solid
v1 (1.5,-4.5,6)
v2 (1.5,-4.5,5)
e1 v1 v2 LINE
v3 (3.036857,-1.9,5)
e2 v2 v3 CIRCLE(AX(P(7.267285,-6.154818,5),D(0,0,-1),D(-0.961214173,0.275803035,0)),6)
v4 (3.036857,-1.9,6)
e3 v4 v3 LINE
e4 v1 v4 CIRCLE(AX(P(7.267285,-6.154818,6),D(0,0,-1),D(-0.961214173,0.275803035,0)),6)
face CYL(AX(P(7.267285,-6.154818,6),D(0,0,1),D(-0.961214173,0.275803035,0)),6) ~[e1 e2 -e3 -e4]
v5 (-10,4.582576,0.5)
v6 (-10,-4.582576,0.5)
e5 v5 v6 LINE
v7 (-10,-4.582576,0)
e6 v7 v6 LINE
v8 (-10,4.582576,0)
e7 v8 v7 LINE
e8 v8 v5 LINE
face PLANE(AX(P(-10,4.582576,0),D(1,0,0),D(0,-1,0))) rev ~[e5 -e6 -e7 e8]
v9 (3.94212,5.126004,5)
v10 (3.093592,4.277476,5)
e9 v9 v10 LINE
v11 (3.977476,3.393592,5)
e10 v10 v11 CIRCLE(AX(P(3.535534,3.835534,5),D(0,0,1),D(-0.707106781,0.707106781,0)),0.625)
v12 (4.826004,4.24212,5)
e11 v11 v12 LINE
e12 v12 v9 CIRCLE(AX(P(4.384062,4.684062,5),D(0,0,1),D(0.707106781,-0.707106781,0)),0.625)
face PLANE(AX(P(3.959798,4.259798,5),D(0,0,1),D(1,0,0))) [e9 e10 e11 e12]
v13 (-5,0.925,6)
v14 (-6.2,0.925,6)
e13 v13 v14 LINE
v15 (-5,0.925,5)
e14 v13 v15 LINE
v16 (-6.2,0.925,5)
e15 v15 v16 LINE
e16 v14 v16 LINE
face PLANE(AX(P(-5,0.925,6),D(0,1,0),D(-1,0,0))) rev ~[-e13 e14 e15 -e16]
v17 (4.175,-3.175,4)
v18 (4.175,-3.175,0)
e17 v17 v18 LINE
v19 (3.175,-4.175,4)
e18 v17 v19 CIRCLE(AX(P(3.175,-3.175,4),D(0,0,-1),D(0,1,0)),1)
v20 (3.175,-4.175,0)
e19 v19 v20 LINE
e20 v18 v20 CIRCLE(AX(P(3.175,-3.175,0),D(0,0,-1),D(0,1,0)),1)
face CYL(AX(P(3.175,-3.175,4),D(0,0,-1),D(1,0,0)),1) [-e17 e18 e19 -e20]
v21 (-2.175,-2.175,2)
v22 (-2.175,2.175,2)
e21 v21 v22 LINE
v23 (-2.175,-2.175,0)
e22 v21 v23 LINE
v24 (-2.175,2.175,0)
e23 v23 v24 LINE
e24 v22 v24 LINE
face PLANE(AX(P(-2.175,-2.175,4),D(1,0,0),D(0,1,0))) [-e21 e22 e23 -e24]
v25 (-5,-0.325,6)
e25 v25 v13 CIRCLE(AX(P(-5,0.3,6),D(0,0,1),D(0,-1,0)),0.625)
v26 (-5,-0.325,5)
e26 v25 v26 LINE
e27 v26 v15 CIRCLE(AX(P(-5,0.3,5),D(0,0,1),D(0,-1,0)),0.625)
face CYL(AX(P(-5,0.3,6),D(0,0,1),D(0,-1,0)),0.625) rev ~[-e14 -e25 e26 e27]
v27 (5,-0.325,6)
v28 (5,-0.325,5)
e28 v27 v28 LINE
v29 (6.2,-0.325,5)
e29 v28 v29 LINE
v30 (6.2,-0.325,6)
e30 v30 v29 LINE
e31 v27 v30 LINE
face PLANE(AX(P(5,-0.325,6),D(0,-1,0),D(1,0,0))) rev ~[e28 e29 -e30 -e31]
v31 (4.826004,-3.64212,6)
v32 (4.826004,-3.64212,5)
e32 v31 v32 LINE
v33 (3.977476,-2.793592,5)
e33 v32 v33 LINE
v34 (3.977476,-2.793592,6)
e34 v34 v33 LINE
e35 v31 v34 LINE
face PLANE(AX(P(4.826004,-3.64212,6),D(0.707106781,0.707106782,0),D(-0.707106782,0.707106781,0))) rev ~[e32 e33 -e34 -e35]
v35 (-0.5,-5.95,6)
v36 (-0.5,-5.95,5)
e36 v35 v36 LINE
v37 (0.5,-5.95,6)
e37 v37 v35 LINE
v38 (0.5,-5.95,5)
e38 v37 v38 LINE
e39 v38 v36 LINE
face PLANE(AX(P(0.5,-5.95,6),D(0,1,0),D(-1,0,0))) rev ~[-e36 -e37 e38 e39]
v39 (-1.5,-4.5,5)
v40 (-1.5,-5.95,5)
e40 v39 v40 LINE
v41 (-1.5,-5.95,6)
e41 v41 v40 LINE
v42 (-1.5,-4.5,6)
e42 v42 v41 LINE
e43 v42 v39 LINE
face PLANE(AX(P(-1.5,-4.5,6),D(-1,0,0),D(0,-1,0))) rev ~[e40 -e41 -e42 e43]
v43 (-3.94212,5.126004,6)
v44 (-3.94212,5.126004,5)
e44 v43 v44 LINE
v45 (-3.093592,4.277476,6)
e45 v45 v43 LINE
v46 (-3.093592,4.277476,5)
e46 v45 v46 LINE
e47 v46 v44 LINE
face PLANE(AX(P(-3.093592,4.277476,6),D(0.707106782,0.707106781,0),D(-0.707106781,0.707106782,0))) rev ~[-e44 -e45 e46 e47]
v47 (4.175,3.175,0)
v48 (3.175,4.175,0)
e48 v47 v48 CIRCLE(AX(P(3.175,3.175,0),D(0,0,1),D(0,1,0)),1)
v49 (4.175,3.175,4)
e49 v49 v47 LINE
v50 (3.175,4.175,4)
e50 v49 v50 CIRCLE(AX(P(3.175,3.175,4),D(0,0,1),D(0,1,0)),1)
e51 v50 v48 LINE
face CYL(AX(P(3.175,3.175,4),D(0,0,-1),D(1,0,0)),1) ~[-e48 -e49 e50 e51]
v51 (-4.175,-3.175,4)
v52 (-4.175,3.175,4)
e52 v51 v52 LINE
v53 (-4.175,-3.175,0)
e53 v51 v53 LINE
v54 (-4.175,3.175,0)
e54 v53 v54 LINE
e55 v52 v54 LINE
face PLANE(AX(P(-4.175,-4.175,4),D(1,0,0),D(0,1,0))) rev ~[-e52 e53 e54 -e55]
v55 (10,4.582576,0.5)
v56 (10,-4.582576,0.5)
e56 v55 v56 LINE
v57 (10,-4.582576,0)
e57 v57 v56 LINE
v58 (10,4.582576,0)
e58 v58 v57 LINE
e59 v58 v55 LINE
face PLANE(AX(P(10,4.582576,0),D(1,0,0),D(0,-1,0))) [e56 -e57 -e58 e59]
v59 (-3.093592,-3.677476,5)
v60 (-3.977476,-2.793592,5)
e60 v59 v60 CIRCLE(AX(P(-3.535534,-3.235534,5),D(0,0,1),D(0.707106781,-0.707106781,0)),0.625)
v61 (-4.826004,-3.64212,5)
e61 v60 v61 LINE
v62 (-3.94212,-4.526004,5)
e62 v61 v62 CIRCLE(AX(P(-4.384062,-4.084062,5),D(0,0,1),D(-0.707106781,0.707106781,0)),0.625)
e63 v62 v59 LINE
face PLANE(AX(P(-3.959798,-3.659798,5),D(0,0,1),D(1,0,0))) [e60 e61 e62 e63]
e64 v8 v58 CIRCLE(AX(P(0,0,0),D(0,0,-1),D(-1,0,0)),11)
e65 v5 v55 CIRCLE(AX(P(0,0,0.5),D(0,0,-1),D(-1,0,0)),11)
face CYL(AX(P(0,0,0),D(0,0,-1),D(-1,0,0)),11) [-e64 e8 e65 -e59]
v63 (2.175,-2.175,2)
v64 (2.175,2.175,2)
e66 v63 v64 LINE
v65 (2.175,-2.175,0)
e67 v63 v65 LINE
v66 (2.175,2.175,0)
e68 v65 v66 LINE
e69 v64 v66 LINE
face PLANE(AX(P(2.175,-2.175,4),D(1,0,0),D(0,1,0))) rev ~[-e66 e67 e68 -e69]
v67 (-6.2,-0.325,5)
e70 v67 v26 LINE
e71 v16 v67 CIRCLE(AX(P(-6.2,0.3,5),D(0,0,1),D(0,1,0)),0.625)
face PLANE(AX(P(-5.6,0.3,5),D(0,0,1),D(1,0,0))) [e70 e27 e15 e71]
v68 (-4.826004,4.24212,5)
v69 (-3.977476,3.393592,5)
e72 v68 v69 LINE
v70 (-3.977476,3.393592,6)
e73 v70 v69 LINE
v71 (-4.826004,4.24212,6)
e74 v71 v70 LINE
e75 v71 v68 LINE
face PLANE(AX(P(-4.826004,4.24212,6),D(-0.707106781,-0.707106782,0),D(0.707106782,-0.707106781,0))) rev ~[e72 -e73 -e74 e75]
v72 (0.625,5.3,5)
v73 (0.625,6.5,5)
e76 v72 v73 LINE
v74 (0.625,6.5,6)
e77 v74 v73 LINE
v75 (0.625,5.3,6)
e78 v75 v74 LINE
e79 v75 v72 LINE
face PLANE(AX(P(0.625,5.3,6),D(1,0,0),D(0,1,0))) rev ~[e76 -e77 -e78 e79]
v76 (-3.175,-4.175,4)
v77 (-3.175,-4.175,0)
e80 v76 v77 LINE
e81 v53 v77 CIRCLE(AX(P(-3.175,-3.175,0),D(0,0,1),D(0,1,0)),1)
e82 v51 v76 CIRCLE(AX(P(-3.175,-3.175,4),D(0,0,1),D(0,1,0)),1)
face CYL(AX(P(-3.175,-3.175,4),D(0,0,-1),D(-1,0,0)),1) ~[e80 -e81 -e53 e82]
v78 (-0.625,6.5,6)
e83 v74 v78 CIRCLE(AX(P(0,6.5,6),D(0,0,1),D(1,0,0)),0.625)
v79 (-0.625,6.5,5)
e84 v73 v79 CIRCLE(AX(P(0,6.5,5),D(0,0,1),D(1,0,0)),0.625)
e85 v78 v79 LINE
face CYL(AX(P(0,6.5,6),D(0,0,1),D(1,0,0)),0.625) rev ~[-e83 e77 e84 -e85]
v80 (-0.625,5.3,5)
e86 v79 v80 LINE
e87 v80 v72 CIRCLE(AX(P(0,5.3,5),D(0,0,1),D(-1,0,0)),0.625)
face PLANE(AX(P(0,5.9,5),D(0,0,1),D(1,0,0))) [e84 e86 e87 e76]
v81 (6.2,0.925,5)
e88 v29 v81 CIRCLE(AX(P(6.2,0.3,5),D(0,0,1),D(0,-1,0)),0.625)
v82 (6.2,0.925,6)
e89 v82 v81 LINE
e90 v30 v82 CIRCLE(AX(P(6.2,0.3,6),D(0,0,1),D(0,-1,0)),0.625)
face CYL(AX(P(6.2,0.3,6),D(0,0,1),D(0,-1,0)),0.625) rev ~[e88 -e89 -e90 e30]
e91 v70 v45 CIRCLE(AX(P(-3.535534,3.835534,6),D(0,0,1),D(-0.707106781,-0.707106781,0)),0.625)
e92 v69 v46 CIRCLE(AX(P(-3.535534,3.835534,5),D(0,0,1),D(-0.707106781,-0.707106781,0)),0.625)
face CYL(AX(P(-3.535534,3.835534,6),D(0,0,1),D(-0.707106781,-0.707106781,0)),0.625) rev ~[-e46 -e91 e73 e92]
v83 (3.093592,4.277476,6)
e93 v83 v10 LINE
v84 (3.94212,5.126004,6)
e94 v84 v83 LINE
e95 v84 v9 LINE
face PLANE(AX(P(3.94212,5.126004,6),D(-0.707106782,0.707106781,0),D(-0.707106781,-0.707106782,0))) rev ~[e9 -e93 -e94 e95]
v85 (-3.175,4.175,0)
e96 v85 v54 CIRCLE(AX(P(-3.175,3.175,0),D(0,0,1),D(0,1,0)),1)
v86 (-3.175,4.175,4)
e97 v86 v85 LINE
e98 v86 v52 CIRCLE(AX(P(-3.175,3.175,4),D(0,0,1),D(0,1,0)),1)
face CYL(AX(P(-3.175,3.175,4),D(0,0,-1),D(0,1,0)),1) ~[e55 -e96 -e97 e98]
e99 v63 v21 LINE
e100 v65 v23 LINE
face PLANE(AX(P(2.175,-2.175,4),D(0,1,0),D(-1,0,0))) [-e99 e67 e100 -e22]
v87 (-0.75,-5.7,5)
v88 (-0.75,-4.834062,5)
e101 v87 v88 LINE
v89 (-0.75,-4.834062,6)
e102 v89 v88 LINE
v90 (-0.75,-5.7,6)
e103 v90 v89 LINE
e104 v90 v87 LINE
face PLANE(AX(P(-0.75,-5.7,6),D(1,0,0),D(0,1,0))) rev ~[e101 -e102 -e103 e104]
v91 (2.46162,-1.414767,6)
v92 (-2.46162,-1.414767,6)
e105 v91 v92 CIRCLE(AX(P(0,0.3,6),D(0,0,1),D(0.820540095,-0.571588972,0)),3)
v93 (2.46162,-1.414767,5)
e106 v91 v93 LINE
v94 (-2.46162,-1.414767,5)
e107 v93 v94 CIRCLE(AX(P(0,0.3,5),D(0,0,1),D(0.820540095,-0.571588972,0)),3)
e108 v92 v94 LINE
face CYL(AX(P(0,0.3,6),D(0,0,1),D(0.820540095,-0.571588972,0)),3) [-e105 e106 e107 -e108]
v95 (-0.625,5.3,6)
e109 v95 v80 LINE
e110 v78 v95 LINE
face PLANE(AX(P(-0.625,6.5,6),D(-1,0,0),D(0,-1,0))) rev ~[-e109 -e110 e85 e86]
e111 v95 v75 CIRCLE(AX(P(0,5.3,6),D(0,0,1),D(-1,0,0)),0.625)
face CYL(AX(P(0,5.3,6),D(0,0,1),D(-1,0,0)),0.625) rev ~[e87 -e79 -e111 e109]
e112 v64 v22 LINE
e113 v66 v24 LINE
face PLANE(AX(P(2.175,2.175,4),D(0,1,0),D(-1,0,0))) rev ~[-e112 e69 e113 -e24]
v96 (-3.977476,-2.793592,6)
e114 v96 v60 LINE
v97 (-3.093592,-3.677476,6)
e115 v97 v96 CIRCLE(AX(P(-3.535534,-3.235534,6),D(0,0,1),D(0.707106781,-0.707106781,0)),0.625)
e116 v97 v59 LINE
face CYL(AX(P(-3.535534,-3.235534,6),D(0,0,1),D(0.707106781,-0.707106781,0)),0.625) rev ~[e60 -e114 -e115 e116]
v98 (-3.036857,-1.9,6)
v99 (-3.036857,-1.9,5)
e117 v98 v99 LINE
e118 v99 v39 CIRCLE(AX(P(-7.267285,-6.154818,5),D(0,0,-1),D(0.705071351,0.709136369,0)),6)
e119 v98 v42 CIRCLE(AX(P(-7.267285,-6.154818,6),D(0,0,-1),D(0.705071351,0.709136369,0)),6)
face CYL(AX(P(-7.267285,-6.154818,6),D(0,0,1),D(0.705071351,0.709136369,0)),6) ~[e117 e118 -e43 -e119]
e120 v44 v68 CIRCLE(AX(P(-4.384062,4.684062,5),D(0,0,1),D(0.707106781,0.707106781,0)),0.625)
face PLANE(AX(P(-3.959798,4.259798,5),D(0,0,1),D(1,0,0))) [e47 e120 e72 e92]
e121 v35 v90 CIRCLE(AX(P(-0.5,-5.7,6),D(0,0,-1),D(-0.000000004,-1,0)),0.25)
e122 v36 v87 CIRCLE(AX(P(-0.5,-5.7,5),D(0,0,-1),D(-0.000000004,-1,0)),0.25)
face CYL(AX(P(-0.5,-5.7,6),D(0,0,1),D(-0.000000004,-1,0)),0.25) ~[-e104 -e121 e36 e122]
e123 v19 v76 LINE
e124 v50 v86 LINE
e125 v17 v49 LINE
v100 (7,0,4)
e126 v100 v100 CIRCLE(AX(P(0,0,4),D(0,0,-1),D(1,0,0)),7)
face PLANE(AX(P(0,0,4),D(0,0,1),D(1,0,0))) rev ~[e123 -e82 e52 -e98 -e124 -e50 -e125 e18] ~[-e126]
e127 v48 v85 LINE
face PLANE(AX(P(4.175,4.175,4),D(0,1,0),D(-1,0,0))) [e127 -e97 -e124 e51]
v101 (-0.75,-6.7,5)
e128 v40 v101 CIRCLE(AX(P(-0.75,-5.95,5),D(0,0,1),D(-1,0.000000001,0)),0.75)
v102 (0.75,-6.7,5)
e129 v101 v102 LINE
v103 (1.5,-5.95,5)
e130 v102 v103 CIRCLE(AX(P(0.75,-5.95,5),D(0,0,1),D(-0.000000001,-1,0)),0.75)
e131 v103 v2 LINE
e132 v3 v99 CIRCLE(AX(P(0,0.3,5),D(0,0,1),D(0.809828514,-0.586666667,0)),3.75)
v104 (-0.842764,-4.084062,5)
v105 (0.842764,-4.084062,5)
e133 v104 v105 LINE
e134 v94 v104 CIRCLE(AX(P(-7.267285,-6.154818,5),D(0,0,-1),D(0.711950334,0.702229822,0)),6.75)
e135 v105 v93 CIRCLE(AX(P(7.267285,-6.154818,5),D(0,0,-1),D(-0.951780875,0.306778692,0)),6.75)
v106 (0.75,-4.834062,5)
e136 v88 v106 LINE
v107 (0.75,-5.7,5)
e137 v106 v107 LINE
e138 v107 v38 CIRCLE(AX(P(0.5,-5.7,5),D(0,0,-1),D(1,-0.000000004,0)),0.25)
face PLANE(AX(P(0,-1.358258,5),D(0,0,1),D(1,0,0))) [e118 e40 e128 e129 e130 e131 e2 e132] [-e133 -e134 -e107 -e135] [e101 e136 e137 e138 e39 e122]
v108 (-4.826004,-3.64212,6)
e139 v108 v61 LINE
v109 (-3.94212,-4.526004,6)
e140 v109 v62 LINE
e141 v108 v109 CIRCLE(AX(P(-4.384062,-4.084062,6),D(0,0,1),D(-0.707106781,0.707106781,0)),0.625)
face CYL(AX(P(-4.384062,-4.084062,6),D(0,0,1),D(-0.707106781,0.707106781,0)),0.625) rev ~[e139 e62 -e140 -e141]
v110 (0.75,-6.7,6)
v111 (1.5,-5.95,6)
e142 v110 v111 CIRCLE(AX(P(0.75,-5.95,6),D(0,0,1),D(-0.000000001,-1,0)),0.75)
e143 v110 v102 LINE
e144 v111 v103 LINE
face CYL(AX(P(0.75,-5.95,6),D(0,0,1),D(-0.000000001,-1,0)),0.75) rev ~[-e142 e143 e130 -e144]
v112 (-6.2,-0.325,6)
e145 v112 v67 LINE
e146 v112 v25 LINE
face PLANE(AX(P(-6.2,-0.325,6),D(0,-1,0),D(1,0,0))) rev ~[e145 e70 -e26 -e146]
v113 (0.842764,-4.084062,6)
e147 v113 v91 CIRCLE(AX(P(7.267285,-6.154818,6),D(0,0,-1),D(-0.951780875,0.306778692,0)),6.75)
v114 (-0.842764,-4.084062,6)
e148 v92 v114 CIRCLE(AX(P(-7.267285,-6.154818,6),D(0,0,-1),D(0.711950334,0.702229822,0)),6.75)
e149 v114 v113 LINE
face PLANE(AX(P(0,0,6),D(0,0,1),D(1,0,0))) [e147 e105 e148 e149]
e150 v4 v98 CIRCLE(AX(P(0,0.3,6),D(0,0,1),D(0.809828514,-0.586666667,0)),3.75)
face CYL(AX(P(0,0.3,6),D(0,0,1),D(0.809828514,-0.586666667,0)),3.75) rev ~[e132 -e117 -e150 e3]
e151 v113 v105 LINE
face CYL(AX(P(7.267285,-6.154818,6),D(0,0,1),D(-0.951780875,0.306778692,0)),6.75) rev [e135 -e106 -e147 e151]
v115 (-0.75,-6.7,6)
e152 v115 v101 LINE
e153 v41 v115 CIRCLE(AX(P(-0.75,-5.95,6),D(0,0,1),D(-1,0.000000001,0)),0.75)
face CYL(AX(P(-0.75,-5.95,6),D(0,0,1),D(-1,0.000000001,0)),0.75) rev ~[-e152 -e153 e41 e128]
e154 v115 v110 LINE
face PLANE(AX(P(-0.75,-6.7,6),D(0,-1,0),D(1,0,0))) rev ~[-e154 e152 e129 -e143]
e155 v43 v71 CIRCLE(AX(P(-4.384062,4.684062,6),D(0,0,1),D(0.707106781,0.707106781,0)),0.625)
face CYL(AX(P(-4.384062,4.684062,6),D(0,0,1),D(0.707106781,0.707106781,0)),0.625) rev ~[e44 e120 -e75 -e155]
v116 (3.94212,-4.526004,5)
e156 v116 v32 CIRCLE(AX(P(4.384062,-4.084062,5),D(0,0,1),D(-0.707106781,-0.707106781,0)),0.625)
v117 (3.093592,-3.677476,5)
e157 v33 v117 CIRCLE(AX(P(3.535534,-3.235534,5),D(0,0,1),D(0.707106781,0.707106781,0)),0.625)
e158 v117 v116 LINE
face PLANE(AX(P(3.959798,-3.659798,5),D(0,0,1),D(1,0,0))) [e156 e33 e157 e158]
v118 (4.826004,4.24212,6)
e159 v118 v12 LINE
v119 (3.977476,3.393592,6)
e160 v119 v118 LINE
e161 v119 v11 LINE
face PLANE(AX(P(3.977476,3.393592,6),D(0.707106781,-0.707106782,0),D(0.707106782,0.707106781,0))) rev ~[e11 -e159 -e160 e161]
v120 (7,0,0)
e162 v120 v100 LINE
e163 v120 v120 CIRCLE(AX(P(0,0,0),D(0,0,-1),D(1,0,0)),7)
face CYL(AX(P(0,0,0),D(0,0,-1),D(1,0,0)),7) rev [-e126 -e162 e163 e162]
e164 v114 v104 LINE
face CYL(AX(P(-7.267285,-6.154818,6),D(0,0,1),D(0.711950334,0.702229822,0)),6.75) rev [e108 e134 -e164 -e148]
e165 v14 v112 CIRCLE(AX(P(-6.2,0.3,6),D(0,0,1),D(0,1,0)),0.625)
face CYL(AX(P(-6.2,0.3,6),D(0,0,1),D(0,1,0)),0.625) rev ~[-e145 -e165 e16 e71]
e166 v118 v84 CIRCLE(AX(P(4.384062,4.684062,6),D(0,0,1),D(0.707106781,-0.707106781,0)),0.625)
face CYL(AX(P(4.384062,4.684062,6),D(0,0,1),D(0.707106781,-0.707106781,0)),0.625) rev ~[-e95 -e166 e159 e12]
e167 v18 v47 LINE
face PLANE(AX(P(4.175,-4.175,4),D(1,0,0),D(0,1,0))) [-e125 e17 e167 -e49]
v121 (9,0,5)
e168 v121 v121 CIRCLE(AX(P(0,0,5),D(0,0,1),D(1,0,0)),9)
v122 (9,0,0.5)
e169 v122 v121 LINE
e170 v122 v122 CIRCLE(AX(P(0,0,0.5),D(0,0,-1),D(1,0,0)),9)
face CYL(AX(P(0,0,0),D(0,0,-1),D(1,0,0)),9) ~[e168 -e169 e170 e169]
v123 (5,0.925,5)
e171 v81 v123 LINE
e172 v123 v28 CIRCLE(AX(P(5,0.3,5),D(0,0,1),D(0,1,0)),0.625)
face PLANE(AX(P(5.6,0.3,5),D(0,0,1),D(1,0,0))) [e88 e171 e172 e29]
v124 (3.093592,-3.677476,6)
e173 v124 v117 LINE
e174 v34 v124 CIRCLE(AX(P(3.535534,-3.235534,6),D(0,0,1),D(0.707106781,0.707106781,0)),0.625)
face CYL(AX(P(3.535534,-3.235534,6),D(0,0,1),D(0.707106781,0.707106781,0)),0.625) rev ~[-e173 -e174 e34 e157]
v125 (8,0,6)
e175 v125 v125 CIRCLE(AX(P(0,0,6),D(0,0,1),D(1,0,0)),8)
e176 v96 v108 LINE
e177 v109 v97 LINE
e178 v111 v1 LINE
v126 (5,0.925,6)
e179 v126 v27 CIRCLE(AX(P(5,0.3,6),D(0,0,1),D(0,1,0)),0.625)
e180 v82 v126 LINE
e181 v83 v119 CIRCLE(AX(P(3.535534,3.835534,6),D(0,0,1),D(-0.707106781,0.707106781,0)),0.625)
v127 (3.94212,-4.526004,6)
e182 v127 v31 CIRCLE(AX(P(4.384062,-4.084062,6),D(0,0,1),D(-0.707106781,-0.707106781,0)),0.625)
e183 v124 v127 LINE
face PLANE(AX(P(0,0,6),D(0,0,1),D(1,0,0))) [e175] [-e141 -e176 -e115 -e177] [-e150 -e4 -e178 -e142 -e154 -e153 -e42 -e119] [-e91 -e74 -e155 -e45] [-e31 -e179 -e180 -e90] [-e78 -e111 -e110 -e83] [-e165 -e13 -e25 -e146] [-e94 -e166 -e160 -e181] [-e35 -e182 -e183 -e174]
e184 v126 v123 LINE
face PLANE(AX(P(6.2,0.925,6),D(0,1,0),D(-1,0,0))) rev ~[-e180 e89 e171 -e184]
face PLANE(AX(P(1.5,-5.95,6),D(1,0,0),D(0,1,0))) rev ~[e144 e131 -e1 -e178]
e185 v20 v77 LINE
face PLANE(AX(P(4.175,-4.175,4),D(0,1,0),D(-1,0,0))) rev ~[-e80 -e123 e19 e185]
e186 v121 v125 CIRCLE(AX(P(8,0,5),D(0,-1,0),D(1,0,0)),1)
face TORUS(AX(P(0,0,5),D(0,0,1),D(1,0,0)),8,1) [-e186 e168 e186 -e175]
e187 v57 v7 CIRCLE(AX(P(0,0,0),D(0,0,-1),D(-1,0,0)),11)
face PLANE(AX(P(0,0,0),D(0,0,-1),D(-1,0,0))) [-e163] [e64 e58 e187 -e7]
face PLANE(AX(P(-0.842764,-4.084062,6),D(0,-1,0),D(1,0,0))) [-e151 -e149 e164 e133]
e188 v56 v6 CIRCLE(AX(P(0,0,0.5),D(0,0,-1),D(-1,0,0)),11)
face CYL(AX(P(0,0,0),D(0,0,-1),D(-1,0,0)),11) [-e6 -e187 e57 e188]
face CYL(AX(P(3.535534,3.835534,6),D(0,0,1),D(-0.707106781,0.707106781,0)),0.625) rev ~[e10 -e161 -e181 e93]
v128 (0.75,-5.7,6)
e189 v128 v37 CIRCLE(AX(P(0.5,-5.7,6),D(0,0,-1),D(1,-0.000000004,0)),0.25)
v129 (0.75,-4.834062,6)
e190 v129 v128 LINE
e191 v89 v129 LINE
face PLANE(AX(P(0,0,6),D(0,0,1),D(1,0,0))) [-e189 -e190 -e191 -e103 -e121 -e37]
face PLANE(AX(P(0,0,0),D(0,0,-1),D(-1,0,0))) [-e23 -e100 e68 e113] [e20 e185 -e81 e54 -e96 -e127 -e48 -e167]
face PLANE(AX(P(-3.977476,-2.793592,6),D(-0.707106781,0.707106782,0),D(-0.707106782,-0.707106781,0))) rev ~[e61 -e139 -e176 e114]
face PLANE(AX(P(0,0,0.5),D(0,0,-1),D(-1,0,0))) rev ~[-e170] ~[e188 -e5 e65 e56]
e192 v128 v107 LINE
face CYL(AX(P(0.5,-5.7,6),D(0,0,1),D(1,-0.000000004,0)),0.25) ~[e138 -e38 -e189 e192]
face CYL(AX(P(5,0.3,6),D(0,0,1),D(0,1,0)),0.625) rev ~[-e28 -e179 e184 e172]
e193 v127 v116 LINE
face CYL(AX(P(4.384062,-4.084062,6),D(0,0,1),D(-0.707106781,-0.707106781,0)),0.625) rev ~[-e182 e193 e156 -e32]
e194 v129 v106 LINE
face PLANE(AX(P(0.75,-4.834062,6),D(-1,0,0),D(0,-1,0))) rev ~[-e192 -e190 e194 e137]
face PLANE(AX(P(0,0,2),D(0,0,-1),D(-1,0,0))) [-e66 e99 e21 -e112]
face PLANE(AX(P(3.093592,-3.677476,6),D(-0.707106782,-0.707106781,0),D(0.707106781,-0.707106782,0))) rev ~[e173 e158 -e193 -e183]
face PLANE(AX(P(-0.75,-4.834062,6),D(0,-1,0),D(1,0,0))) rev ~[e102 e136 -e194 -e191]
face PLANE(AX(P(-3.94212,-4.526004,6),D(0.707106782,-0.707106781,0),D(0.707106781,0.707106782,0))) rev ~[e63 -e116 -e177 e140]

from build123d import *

# Parameters (mm, degrees)
ESBO_O1_R                = 9
RESSALTO_EXTRUS_O1_DEPTH = 6
FILETE1_R                = 1
CASCA1_T                 = -2
ESBO_O2_W                = 8.35
ESBO_O2_H                = 8.35
ESBO_O2_W_2              = 4.35
ESBO_O2_H_2              = 4.35
RESSALTO_EXTRUS_O2_DEPTH = 4
FILETE2_R                = 1
CORTE_EXTRUS_O2_DEPTH    = 1
ESBO_O6_R                = 11
ESBO_O6_R_2              = 9
RESSALTO_EXTRUS_O3_DEPTH = 0.5
CORTE_EXTRUS_O4_DEPTH    = 17.673332001
ESBO_O8_W                = 4.35
ESBO_O8_H                = 4.35
RESSALTO_EXTRUS_O4_DEPTH = 2


with BuildPart() as part:
    # Esboço1 → Ressalto-extrusão1 (new body)
    with BuildSketch(Plane.XY):
        Circle(ESBO_O1_R)
    extrude(amount=RESSALTO_EXTRUS_O1_DEPTH)

    # Filete1
    filete1_edges = [part.edges().sort_by_distance(p)[0] for p in [
        (-9, 0, 6),
    ]]
    fillet(filete1_edges, radius=FILETE1_R)

    # Casca1
    casca1_openings = [part.faces().sort_by_distance(p)[0] for p in [
        (0, 0, 0),
    ]]
    offset(amount=CASCA1_T, openings=casca1_openings, kind=Kind.INTERSECTION)

    # Esboço2 → Ressalto-extrusão2 (add)
    with BuildSketch(Plane(origin=(0, 0, 4), x_dir=(-1, 0, 0), z_dir=(0, 0, -1))):
        Rectangle(ESBO_O2_W, ESBO_O2_H)
        Rectangle(ESBO_O2_W_2, ESBO_O2_H_2, mode=Mode.SUBTRACT)
    extrude(amount=RESSALTO_EXTRUS_O2_DEPTH)

    # Filete2
    filete2_edges = [part.edges().sort_by_distance(p)[0] for p in [
        (-4.175, -4.175, 2),
        (-4.175, 4.175, 2),
        (4.175, 4.175, 2),
        (4.175, -4.175, 2),
    ]]
    fillet(filete2_edges, radius=FILETE2_R)

    # Esboço4 → Corte-extrusão2 (cut)
    # profile 1 of 8: a face of its own
    with BuildSketch(Plane.XY.offset(6)):
        with BuildLine():
            Line((-0.625, 6.5), (-0.625, 5.3))
            ThreePointArc((-0.625, 5.3), (0, 4.675), (0.625, 5.3))
            Line((0.625, 5.3), (0.625, 6.5))
            ThreePointArc((0.625, 6.5), (0, 7.125), (-0.625, 6.5))
        make_face()
    # profile 2 of 8: a face of its own
    with BuildSketch(Plane.XY.offset(6)):
        with BuildLine():
            Line((-1.5, -4.5), (-1.5, -5.95))
            ThreePointArc((-1.5, -5.95), (-1.280330086, -6.480330086), (-0.75, -6.7))
            Line((-0.75, -6.7), (0.75, -6.7))
            ThreePointArc((0.75, -6.7), (1.280330086, -6.480330086), (1.5, -5.95))
            Line((1.5, -5.95), (1.5, -4.5))
            ThreePointArc((1.5, -4.5), (2.102155122, -3.101716024), (3.036856928, -1.9))
            ThreePointArc((3.036856928, -1.9), (0, 4.05), (-3.036856928, -1.9))
            ThreePointArc((-3.036856928, -1.9), (-2.102155122, -3.101716024), (-1.5, -4.5))
        make_face()
        with BuildLine():
            Line((-0.842764128, -4.084062043), (0.842764128, -4.084062043))
            ThreePointArc((0.842764128, -4.084062043), (1.495755637, -2.654539881), (2.461620284, -1.414766916))
            ThreePointArc((2.461620284, -1.414766916), (0, 3.3), (-2.461620284, -1.414766916))
            ThreePointArc((-2.461620284, -1.414766916), (-1.495755637, -2.654539881), (-0.842764128, -4.084062043))
        make_face(mode=Mode.SUBTRACT)
        with BuildLine():
            Line((-0.75, -4.834062043), (0.75, -4.834062043))
            Line((0.75, -4.834062043), (0.75, -5.7))
            ThreePointArc((0.75, -5.7), (0.676776695, -5.876776695), (0.5, -5.95))
            Line((0.5, -5.95), (-0.5, -5.95))
            ThreePointArc((-0.5, -5.95), (-0.676776695, -5.876776695), (-0.75, -5.7))
            Line((-0.75, -5.7), (-0.75, -4.834062043))
        make_face(mode=Mode.SUBTRACT)
    # profile 3 of 8: a face of its own
    with BuildSketch(Plane.XY.offset(6)):
        with BuildLine():
            Line((3.942120305, 5.126003782), (3.093592168, 4.277475644))
            ThreePointArc((3.093592168, 4.277475644), (3.093592168, 3.393592168), (3.977475644, 3.393592168))
            Line((3.977475644, 3.393592168), (4.826003782, 4.242120305))
            ThreePointArc((4.826003782, 4.242120305), (4.826003782, 5.126003782), (3.942120305, 5.126003782))
        make_face()
    # profile 4 of 8: a face of its own
    with BuildSketch(Plane.XY.offset(6)):
        with BuildLine():
            Line((6.2, 0.925), (5, 0.925))
            ThreePointArc((5, 0.925), (4.375, 0.3), (5, -0.325))
            Line((5, -0.325), (6.2, -0.325))
            ThreePointArc((6.2, -0.325), (6.825, 0.3), (6.2, 0.925))
        make_face()
    # profile 5 of 8: a face of its own
    with BuildSketch(Plane.XY.offset(6)):
        with BuildLine():
            Line((4.826003782, -3.642120305), (3.977475644, -2.793592168))
            ThreePointArc((3.977475644, -2.793592168), (3.093592168, -2.793592168), (3.093592168, -3.677475644))
            Line((3.093592168, -3.677475644), (3.942120305, -4.526003782))
            ThreePointArc((3.942120305, -4.526003782), (4.826003782, -4.526003782), (4.826003782, -3.642120305))
        make_face()
    # profile 6 of 8: a face of its own
    with BuildSketch(Plane.XY.offset(6)):
        with BuildLine():
            Line((-3.942120305, -4.526003782), (-3.093592168, -3.677475644))
            ThreePointArc((-3.093592168, -3.677475644), (-3.093592168, -2.793592168), (-3.977475644, -2.793592168))
            Line((-3.977475644, -2.793592168), (-4.826003782, -3.642120305))
            ThreePointArc((-4.826003782, -3.642120305), (-4.826003782, -4.526003782), (-3.942120305, -4.526003782))
        make_face()
    # profile 7 of 8: a face of its own
    with BuildSketch(Plane.XY.offset(6)):
        with BuildLine():
            Line((-6.2, -0.325), (-5, -0.325))
            ThreePointArc((-5, -0.325), (-4.375, 0.3), (-5, 0.925))
            Line((-5, 0.925), (-6.2, 0.925))
            ThreePointArc((-6.2, 0.925), (-6.825, 0.3), (-6.2, -0.325))
        make_face()
    # profile 8 of 8: a face of its own
    with BuildSketch(Plane.XY.offset(6)):
        with BuildLine():
            Line((-4.826003782, 4.242120305), (-3.977475644, 3.393592168))
            ThreePointArc((-3.977475644, 3.393592168), (-3.093592168, 3.393592168), (-3.093592168, 4.277475644))
            Line((-3.093592168, 4.277475644), (-3.942120305, 5.126003782))
            ThreePointArc((-3.942120305, 5.126003782), (-4.826003782, 5.126003782), (-4.826003782, 4.242120305))
        make_face()
    extrude(amount=-CORTE_EXTRUS_O2_DEPTH, mode=Mode.SUBTRACT)

    # Esboço6 → Ressalto-extrusão3 (add)
    with BuildSketch(Plane(origin=(0, 0, 0), x_dir=(-1, 0, 0), z_dir=(0, 0, -1))):
        Circle(ESBO_O6_R)
        Circle(ESBO_O6_R_2, mode=Mode.SUBTRACT)
    extrude(amount=-RESSALTO_EXTRUS_O3_DEPTH)

    # Esboço7 → Corte-extrusão4 (cut, through all)
    with BuildSketch(Plane(origin=(0, 0, 0), x_dir=(-1, 0, 0), z_dir=(0, 0, -1))):
        with BuildLine():
            Line((-10, 4.582575695), (-10, -4.582575695))
            ThreePointArc((-10, -4.582575695), (-11, 0), (-10, 4.582575695))
        make_face()
        with BuildLine():
            Line((10, 4.582575695), (10, -4.582575695))
            ThreePointArc((10, -4.582575695), (11, 0), (10, 4.582575695))
        make_face()
    extrude(amount=-CORTE_EXTRUS_O4_DEPTH, mode=Mode.SUBTRACT)

    # Esboço8 → Ressalto-extrusão4 (add)
    with BuildSketch(Plane(origin=(0, 0, 4), x_dir=(-1, 0, 0), z_dir=(0, 0, -1))):
        Rectangle(ESBO_O8_W, ESBO_O8_H)
    extrude(amount=RESSALTO_EXTRUS_O4_DEPTH)


solid = part.part
